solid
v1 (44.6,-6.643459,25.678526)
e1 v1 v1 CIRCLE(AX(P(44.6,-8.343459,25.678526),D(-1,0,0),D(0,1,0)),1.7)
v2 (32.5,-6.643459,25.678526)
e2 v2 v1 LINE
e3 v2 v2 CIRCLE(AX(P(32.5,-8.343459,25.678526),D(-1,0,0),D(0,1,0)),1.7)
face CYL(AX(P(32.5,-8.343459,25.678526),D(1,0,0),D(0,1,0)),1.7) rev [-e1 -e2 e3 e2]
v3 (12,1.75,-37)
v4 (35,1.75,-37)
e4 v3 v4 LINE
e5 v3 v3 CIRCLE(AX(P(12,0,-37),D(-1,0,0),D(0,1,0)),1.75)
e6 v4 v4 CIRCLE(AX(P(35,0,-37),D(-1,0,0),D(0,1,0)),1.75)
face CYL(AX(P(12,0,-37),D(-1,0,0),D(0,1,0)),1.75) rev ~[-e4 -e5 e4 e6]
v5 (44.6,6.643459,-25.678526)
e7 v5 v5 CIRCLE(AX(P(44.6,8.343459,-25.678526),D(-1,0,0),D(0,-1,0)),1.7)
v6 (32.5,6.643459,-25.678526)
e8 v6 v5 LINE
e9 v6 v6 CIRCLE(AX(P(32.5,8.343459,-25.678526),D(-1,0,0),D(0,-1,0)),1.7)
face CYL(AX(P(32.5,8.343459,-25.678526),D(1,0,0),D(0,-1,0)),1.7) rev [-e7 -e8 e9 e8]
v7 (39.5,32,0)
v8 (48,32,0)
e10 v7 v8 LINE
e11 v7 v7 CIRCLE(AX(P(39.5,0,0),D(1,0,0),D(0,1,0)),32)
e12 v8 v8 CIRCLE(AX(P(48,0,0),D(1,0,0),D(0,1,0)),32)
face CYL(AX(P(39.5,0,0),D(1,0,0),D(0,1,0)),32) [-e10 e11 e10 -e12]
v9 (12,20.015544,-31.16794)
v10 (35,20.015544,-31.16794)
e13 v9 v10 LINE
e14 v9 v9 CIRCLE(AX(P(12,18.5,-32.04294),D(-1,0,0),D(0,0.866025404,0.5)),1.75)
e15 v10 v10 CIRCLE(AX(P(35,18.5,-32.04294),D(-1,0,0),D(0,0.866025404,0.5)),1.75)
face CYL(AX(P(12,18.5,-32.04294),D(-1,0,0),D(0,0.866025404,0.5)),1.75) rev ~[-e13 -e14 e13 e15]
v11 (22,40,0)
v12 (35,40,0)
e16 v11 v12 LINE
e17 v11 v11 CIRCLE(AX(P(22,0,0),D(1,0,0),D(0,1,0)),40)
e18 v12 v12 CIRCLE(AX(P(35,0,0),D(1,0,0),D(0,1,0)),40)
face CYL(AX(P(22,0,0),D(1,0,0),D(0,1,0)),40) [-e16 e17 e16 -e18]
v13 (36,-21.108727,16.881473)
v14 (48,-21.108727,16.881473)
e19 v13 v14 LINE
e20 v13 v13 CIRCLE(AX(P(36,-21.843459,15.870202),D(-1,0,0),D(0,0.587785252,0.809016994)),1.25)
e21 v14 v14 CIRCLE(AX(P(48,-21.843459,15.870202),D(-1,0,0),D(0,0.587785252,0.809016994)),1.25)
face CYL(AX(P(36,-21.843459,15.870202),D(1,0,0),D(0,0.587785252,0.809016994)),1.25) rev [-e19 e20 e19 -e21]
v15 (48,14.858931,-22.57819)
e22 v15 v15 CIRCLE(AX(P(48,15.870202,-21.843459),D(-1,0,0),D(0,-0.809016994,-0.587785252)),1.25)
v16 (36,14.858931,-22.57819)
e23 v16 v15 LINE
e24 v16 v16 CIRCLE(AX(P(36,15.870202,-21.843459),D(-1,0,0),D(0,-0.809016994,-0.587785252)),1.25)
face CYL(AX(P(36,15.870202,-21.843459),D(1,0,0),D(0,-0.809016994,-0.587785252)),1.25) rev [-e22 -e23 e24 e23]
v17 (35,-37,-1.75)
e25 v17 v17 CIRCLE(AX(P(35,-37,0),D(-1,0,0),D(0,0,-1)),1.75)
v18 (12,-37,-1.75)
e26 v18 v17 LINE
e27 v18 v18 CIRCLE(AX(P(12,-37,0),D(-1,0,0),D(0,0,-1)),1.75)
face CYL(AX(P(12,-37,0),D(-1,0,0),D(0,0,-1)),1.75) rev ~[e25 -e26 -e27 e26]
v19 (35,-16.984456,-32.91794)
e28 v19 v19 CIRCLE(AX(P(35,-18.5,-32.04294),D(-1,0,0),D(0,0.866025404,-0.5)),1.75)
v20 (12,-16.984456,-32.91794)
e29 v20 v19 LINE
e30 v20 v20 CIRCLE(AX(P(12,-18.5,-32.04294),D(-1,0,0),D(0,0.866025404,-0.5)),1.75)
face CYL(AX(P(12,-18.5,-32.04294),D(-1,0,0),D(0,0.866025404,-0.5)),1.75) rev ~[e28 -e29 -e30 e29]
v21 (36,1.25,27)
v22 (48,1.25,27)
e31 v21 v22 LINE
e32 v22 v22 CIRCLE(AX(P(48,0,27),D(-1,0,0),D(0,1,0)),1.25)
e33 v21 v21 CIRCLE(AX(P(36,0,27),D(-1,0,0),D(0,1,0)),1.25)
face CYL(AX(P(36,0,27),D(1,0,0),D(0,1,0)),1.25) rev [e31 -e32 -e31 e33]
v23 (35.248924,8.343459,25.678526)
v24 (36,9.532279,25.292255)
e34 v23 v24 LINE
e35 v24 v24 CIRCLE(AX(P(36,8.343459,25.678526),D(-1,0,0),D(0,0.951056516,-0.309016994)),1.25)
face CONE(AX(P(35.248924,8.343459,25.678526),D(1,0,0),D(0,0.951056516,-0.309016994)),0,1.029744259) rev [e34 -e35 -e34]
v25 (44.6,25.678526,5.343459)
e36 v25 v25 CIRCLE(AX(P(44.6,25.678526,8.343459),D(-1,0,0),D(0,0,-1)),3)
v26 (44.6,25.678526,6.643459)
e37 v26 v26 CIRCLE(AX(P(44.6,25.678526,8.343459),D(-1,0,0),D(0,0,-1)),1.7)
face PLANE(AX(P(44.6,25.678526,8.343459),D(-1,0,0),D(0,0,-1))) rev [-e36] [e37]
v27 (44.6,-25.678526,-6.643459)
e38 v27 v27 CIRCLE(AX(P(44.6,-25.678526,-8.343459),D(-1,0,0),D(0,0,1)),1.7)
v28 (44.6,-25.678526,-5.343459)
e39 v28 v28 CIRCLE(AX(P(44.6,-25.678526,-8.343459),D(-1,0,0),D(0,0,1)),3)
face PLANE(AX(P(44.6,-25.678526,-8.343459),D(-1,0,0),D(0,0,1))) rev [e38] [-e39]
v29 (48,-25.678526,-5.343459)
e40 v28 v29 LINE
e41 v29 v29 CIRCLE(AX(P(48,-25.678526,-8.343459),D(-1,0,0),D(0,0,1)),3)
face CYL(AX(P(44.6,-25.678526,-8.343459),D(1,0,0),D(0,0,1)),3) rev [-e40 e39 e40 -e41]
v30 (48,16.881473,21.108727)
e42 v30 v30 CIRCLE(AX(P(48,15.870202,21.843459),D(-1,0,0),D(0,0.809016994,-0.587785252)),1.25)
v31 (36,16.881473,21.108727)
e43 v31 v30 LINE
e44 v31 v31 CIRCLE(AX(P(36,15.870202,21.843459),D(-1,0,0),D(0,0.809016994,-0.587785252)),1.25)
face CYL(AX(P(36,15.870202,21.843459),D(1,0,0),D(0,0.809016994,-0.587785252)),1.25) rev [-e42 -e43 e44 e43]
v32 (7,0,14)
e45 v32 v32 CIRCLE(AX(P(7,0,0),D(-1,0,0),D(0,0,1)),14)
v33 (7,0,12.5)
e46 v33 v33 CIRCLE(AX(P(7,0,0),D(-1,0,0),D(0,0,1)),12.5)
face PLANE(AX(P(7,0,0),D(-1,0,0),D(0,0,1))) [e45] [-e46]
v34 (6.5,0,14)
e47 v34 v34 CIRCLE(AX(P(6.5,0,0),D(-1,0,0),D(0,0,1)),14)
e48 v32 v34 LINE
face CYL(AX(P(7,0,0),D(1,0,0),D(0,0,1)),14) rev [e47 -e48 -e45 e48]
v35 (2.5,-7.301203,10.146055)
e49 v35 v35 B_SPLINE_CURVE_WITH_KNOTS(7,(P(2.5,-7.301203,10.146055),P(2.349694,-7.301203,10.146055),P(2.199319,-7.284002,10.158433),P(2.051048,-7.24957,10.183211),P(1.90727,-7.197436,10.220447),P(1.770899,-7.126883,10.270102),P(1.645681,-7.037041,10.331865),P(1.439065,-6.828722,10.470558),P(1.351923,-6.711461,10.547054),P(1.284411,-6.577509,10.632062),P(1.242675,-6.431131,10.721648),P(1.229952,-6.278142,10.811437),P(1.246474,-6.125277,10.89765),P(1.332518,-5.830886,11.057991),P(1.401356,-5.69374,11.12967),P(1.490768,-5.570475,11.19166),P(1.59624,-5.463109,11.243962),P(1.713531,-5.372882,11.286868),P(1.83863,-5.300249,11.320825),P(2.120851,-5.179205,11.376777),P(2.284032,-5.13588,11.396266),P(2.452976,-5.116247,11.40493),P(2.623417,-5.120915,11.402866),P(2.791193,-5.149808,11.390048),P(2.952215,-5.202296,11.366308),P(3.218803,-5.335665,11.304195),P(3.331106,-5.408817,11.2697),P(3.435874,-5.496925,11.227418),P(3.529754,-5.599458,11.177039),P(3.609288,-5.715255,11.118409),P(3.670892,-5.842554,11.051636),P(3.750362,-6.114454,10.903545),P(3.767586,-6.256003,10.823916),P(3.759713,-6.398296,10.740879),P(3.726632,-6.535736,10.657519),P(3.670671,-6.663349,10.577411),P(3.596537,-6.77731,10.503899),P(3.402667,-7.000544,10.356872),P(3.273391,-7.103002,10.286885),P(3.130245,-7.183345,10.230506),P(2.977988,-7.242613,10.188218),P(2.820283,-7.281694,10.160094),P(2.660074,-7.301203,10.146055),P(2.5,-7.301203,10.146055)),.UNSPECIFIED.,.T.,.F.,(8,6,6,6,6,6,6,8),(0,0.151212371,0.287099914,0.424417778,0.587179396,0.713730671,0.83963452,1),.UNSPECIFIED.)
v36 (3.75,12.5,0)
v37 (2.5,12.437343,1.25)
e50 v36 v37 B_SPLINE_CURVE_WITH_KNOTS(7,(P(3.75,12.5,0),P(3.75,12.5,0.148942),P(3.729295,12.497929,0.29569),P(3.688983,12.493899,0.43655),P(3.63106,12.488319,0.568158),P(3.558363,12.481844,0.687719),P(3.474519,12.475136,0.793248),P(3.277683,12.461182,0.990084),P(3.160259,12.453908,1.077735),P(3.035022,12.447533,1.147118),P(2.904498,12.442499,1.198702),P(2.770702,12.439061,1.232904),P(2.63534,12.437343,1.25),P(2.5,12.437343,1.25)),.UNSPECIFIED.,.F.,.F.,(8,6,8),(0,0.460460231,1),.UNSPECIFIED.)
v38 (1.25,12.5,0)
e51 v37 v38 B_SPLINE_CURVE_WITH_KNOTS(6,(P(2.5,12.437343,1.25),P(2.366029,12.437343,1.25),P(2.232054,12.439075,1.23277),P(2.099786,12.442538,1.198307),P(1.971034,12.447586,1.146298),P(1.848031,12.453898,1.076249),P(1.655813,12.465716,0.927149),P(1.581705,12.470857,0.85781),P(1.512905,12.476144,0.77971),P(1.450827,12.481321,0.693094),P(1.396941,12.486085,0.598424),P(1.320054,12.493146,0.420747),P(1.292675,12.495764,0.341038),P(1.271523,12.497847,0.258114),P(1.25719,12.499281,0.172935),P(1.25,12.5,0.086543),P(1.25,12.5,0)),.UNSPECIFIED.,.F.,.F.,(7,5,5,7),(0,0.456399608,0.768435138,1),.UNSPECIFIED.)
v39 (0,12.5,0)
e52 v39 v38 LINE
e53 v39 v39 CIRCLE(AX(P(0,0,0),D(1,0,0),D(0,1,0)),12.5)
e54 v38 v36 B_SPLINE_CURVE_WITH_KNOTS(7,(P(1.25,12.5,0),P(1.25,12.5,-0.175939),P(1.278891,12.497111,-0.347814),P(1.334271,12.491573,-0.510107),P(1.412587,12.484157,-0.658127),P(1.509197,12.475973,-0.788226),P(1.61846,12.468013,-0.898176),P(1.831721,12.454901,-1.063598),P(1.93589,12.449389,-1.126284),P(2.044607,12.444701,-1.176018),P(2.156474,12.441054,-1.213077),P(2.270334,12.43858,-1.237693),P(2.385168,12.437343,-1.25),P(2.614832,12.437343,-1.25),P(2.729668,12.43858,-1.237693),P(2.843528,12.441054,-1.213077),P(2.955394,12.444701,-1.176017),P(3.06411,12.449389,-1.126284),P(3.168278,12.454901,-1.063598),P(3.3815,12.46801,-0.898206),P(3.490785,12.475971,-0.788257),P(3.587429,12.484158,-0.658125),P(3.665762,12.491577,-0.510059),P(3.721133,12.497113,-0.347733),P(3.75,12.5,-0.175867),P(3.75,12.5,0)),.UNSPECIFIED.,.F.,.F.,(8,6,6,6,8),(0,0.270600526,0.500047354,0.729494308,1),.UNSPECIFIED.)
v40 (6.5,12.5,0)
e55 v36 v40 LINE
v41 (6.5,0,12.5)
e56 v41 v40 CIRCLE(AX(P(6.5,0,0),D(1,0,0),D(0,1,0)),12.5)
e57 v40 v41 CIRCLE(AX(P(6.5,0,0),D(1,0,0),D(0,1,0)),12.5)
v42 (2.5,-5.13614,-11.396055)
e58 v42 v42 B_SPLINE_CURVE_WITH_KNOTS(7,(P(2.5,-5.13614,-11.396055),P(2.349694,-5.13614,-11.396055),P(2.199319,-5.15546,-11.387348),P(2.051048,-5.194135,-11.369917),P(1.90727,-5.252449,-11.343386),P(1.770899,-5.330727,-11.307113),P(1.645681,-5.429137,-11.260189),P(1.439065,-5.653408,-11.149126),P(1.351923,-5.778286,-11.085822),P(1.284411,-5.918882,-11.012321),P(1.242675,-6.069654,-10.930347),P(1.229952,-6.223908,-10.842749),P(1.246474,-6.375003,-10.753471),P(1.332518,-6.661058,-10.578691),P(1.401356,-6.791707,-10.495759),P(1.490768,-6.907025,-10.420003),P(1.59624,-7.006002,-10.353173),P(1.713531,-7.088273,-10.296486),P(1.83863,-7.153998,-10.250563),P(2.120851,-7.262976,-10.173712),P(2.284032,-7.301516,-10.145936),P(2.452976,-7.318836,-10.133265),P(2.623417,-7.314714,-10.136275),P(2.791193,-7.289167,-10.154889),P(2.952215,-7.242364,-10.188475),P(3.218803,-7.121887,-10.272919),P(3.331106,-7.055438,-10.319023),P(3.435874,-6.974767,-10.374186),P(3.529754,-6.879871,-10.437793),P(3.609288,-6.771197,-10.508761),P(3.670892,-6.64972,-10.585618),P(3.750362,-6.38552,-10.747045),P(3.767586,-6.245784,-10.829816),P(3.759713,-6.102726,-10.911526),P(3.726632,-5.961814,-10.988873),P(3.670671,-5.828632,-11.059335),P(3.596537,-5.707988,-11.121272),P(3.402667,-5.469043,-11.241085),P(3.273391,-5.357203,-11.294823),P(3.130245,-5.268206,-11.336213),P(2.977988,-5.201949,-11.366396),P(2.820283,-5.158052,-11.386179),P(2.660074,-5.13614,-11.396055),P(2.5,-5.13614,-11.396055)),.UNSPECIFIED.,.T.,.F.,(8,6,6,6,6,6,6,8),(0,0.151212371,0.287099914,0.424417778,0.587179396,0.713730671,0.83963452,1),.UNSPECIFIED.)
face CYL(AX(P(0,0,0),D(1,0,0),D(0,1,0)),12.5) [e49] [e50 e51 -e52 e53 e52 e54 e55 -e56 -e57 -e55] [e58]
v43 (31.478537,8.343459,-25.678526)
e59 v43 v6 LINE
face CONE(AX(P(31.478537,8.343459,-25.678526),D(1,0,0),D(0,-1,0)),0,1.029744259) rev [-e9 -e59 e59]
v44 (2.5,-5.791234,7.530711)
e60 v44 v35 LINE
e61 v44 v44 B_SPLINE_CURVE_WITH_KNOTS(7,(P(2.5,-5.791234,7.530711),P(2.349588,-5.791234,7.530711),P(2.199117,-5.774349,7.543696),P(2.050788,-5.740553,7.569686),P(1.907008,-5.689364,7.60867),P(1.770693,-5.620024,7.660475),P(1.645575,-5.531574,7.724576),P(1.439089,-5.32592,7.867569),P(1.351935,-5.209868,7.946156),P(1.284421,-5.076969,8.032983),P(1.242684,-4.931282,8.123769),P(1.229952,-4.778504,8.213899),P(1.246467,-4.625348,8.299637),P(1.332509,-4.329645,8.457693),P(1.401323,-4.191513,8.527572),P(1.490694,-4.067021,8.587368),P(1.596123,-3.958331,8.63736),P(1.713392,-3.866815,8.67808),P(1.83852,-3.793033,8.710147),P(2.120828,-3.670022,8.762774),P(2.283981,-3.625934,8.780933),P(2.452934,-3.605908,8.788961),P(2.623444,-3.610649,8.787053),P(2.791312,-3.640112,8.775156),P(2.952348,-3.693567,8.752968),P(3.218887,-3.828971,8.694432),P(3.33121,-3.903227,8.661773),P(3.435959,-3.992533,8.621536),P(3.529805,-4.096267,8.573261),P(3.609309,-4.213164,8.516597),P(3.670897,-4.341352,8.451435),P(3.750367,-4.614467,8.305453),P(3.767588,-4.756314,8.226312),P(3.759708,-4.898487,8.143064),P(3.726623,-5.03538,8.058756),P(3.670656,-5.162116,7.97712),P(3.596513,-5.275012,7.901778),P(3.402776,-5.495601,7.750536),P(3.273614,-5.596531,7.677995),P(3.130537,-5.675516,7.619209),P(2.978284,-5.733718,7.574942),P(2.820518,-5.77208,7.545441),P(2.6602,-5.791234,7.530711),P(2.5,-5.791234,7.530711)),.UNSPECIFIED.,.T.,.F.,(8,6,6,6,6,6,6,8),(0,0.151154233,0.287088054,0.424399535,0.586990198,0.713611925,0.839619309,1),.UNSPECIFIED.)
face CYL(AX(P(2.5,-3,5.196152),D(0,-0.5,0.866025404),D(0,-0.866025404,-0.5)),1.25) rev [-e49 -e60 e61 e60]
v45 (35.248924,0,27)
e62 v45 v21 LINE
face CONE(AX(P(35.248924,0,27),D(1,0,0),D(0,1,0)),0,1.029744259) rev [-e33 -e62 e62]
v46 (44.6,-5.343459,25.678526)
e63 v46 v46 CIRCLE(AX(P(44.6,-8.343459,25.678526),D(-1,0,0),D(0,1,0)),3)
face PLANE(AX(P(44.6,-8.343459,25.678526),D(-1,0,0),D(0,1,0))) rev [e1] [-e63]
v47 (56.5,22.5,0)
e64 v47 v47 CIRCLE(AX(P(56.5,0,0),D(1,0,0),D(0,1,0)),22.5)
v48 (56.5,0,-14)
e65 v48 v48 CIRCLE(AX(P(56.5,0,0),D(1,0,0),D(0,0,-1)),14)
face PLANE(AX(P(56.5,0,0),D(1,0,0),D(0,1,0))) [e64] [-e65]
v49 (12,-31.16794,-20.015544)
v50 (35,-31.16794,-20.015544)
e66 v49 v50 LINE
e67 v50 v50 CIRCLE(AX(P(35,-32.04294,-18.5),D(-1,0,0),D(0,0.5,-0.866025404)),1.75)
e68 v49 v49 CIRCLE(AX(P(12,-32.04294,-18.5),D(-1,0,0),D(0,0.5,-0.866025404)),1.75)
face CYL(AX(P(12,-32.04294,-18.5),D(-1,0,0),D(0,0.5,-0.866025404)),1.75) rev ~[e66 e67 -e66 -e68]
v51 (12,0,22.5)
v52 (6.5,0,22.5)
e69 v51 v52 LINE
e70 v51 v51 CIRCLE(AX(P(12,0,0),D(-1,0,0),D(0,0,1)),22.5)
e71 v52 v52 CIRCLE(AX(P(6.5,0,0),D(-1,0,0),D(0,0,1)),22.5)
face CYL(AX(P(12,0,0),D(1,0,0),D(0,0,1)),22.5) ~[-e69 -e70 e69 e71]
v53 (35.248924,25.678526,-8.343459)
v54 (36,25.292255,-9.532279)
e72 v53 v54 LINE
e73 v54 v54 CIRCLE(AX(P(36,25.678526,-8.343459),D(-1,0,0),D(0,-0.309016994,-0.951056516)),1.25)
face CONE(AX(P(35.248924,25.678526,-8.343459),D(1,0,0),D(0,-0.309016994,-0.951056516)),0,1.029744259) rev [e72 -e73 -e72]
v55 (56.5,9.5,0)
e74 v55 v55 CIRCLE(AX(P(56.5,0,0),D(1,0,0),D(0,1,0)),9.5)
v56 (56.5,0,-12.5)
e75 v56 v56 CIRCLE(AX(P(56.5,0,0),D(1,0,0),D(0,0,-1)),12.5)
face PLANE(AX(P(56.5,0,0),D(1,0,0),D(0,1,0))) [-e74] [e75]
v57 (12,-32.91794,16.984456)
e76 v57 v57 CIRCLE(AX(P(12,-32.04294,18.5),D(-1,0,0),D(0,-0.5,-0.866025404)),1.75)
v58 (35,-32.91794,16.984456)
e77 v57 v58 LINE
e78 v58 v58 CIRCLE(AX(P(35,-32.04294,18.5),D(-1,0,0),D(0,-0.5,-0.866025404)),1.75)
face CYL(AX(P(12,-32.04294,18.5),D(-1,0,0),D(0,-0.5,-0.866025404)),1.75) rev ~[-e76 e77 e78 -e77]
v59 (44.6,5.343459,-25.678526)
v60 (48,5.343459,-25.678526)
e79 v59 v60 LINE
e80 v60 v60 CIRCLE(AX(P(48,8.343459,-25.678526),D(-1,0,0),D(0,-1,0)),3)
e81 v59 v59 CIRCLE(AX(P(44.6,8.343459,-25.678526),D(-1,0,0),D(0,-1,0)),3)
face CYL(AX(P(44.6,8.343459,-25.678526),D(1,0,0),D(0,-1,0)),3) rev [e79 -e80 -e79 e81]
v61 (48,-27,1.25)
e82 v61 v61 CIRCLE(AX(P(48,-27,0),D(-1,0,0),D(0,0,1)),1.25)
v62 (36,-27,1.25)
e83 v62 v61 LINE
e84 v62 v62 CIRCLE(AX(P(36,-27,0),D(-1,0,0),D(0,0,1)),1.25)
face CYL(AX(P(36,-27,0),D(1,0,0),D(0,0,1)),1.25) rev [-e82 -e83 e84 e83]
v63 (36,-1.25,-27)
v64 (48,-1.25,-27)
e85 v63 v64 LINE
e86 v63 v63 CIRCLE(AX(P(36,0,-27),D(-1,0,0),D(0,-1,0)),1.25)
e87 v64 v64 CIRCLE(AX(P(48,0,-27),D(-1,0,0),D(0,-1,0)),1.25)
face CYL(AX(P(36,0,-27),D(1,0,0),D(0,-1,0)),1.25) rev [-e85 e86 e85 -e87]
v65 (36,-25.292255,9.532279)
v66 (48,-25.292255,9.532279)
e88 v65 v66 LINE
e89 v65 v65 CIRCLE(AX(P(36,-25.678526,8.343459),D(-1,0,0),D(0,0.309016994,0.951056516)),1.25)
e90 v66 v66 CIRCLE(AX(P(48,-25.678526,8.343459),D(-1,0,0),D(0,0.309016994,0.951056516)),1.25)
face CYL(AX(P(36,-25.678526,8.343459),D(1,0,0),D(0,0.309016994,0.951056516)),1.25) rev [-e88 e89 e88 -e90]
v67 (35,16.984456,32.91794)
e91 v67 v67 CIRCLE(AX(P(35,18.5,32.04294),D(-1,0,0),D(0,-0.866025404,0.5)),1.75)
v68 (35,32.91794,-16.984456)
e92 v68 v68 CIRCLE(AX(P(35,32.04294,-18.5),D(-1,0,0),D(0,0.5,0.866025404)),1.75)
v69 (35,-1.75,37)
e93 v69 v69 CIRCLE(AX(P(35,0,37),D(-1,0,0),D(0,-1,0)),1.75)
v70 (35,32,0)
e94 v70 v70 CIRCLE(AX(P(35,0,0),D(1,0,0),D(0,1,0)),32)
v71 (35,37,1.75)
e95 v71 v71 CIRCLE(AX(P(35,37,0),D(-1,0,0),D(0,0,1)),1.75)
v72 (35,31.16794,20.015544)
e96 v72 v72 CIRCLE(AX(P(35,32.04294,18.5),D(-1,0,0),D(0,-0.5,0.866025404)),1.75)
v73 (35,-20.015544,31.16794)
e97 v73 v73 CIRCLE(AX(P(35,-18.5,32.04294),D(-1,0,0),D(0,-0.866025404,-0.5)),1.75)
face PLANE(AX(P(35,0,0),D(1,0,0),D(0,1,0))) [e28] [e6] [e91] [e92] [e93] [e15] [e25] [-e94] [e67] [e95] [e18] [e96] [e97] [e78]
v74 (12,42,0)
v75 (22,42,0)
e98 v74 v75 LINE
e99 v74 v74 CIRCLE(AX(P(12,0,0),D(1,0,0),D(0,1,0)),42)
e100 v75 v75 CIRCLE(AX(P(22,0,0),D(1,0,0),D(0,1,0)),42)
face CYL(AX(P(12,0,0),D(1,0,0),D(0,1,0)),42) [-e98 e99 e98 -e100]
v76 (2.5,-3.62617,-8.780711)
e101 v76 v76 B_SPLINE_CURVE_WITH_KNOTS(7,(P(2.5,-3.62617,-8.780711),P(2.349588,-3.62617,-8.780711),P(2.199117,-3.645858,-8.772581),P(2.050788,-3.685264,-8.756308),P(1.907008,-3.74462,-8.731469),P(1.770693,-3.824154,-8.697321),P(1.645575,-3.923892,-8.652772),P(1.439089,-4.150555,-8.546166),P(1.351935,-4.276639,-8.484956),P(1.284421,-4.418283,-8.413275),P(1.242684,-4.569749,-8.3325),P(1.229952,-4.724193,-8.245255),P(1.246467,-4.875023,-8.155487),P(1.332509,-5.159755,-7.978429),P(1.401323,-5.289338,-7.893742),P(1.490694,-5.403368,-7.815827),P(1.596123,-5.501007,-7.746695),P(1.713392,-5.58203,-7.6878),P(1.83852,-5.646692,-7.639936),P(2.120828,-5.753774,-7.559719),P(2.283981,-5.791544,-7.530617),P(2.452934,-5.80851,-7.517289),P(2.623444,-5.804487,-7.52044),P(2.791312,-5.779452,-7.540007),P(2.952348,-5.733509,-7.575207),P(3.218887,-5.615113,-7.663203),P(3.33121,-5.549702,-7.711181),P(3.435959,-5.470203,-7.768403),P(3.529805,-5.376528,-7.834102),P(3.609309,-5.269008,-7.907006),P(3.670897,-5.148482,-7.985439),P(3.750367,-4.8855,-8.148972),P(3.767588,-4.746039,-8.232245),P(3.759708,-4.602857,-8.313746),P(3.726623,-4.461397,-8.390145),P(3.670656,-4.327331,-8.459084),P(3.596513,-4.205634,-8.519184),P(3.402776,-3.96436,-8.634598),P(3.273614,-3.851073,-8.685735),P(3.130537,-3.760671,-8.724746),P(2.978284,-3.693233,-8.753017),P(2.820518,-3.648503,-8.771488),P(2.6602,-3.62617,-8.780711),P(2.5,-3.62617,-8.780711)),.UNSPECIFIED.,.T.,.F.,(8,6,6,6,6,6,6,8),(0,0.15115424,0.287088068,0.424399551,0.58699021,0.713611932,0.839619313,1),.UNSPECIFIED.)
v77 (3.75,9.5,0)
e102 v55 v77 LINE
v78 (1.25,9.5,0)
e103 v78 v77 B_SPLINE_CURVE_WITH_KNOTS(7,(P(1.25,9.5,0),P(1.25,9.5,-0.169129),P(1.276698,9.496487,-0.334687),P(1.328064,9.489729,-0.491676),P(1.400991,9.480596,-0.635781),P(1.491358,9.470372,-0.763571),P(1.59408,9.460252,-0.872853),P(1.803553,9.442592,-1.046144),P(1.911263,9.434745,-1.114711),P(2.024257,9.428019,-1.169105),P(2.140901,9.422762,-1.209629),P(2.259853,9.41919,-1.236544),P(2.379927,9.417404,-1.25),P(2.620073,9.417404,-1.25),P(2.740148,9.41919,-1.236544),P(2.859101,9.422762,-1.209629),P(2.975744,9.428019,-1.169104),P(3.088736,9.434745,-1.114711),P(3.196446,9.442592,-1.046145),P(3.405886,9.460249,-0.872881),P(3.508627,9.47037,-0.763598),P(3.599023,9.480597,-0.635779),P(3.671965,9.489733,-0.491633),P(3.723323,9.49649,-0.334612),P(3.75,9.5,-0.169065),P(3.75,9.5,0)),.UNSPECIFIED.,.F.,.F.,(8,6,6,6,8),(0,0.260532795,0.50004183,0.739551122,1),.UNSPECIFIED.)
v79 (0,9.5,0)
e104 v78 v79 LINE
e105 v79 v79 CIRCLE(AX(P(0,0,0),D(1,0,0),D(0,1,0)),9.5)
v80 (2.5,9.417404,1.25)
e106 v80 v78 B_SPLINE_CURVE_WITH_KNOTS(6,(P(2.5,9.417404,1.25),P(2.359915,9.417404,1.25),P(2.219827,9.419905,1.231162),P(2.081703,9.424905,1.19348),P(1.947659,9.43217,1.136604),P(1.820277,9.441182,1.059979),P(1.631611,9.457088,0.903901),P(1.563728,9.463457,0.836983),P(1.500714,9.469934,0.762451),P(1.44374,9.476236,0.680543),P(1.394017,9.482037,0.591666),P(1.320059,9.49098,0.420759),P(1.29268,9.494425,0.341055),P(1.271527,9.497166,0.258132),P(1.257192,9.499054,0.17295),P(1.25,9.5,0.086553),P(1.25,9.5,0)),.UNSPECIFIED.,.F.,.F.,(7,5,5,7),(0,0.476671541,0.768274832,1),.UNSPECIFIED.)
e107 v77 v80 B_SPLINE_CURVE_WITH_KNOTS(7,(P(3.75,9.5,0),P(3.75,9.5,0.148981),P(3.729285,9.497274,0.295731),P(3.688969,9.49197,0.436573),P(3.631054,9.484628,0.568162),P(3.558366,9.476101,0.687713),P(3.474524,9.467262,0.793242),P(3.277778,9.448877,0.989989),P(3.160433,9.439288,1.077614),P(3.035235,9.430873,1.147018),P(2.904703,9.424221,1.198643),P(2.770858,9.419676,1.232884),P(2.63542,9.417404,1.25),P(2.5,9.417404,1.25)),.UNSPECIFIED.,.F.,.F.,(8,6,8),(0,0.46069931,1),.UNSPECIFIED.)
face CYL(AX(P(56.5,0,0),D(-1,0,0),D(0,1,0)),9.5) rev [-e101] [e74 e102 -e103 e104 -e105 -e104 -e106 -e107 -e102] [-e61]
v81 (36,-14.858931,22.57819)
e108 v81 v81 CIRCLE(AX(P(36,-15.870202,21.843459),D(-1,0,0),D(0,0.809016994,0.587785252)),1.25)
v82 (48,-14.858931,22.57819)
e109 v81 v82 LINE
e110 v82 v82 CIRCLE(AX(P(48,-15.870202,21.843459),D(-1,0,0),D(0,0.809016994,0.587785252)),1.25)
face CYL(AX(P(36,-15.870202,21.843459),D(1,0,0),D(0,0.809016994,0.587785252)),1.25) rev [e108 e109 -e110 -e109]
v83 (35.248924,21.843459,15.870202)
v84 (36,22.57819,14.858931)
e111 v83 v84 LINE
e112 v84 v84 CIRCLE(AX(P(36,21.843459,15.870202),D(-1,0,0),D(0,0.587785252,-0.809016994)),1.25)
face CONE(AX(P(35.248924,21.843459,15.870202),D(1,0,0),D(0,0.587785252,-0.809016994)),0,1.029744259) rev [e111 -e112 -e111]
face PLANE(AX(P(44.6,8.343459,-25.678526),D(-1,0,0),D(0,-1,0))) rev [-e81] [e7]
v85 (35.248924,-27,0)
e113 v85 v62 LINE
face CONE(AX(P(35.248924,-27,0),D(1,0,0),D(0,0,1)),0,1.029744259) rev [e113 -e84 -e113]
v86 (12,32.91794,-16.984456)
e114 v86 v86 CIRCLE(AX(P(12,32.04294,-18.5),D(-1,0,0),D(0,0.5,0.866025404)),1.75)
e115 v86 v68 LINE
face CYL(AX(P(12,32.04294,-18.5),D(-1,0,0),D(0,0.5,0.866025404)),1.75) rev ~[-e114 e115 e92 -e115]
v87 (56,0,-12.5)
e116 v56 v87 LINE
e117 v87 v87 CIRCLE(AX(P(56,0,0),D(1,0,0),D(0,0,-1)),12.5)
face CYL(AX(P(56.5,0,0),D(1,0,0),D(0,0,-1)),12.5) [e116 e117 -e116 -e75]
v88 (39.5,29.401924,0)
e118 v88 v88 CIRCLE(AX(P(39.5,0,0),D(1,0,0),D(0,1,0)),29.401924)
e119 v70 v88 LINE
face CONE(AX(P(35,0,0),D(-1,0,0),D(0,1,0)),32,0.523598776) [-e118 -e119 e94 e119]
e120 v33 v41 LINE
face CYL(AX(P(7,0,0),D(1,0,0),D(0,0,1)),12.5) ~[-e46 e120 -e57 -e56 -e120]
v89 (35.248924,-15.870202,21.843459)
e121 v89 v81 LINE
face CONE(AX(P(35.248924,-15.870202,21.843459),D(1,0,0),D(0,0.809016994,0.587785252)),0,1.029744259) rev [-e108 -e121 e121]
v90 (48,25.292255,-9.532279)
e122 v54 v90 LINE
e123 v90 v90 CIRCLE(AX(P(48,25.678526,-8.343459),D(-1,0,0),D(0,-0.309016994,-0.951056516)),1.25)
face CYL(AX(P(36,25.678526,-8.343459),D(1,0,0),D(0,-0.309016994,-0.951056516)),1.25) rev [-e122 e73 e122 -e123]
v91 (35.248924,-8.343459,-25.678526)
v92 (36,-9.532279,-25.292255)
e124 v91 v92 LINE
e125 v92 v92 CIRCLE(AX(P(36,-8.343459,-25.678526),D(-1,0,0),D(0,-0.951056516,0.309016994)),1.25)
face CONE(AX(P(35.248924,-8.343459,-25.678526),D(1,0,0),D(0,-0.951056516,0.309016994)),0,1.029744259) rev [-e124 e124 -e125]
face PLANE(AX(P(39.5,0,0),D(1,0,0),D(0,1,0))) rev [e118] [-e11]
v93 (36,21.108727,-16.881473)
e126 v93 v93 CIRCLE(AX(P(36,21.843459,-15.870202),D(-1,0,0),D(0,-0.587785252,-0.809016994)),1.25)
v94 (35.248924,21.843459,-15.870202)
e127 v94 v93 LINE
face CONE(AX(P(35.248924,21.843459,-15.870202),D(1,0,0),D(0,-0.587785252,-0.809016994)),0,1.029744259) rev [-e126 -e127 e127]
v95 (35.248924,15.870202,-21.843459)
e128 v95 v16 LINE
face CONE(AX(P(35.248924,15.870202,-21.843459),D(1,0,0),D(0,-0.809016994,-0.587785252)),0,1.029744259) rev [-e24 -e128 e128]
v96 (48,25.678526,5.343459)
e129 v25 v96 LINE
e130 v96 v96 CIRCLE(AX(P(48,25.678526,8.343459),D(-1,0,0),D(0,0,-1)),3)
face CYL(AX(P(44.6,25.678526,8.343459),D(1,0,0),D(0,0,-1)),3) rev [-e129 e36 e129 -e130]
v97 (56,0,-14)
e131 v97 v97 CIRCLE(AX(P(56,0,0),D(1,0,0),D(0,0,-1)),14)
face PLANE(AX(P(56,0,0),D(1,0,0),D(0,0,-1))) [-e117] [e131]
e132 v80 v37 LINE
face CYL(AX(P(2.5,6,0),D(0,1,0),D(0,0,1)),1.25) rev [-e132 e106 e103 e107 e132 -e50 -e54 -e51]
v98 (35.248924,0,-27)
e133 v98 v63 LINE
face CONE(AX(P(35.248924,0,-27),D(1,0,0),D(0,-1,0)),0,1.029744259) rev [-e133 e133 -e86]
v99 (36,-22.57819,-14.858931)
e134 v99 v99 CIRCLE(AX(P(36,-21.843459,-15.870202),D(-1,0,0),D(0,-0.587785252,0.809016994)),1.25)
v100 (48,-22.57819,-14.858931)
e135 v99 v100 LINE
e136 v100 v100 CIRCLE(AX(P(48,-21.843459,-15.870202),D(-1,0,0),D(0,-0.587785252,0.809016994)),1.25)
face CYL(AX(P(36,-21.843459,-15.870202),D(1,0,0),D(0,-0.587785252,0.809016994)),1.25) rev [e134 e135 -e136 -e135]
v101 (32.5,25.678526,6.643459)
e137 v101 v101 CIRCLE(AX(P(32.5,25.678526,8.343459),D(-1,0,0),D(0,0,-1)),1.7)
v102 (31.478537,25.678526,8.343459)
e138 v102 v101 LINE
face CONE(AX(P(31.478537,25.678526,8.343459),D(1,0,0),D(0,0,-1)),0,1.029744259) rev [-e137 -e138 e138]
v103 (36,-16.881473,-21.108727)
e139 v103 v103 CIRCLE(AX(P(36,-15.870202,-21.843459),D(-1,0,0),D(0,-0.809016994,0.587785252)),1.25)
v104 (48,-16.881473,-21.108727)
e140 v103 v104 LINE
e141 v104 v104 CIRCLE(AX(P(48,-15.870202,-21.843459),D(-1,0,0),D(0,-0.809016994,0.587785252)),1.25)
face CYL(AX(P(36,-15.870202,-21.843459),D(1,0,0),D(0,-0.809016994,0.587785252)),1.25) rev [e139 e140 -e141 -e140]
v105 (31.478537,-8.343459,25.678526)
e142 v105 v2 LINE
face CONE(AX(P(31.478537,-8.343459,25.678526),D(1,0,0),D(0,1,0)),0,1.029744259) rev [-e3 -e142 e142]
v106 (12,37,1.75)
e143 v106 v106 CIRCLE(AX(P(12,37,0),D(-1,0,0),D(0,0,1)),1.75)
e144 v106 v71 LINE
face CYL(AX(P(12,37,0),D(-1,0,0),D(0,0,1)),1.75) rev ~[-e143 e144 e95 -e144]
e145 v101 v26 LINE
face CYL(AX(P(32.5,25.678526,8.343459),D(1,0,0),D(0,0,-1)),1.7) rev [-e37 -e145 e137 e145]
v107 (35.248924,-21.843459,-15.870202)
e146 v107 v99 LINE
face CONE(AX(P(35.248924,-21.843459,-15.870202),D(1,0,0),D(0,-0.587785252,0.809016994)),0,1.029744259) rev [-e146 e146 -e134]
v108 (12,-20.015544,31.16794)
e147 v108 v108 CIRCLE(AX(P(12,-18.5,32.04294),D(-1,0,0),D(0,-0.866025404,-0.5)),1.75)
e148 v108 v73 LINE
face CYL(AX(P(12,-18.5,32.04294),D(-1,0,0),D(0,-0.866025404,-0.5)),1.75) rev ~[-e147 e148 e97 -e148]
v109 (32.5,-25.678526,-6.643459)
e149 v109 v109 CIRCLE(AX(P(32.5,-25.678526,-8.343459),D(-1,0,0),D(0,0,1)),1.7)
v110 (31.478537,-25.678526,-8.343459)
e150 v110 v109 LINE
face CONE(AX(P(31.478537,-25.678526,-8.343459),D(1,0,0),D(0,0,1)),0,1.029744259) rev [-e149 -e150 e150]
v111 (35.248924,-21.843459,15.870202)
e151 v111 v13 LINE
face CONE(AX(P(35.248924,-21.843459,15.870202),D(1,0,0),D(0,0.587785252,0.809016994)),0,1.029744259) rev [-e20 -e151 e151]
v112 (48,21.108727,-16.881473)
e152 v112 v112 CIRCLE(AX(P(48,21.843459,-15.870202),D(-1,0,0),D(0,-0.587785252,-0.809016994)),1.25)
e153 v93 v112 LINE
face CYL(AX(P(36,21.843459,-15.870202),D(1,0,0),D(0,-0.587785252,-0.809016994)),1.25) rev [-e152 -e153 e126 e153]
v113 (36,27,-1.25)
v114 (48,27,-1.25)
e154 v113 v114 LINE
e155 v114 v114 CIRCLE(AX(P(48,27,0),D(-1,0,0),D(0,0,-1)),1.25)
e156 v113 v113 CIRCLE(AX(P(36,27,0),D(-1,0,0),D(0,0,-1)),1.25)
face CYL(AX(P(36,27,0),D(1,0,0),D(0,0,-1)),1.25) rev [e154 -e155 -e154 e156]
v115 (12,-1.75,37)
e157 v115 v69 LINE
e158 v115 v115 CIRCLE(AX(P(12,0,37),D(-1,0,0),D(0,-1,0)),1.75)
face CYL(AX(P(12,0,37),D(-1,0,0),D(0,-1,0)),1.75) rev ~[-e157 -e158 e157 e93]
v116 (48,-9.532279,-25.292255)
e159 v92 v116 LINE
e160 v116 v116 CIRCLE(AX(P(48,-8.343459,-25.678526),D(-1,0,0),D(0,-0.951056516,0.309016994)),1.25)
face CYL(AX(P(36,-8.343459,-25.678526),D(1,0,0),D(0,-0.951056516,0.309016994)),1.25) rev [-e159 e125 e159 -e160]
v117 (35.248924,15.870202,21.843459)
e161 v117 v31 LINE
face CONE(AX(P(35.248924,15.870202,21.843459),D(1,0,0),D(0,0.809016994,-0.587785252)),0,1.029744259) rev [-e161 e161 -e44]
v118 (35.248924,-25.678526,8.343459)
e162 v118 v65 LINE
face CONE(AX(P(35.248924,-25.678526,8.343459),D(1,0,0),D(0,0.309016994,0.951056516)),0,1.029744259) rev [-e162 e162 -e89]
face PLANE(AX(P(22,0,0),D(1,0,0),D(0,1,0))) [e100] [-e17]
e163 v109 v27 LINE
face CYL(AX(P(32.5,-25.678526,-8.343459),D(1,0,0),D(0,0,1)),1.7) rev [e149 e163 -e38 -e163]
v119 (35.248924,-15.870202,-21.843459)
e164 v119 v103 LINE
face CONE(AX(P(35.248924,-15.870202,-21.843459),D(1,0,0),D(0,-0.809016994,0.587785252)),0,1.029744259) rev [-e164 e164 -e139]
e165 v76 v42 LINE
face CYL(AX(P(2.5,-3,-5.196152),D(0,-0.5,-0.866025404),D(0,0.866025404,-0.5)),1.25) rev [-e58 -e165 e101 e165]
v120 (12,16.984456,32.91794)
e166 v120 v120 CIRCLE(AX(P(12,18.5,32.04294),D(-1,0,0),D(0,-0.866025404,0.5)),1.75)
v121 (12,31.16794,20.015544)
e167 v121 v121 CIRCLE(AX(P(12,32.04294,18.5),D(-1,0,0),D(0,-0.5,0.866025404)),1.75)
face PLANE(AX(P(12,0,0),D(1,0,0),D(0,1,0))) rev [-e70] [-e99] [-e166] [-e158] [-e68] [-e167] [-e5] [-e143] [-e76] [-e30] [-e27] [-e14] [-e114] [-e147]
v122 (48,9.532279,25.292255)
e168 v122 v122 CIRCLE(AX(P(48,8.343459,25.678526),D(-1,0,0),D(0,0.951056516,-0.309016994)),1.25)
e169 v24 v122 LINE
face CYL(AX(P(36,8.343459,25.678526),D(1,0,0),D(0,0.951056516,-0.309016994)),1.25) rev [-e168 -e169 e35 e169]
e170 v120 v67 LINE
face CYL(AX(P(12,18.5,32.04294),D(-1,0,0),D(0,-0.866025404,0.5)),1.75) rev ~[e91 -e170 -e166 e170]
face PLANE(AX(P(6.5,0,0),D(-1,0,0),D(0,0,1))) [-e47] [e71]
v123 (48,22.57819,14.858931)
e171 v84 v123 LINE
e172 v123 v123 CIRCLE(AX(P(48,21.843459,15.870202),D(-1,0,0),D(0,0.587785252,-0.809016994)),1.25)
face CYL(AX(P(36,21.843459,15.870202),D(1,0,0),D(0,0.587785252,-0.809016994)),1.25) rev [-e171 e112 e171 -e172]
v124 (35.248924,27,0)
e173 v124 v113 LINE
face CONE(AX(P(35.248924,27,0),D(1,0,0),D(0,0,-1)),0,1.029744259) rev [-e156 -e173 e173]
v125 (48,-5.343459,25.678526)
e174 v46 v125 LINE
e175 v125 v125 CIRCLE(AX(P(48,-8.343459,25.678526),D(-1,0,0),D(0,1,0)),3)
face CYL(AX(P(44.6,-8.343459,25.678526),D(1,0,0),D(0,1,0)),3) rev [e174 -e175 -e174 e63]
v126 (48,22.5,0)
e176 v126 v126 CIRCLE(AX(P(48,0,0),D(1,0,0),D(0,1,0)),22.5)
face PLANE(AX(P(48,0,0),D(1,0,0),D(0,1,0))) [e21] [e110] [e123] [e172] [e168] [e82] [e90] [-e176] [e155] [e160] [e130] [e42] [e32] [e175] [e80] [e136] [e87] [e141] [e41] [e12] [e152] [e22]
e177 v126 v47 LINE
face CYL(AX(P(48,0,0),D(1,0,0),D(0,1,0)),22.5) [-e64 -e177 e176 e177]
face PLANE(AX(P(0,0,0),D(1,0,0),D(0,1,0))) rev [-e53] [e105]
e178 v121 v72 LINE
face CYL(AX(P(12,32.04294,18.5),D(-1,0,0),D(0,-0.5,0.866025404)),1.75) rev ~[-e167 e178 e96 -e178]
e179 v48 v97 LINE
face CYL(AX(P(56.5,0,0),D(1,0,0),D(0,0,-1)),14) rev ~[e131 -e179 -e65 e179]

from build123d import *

# Parameters (mm, degrees)
CUT_EXTRUDE_1_REACH      = 76.218
SKETCH_5_R               = 1.75
PATTERN_CIRCULAR_2_COUNT = 12
SKETCH_9_R               = 22.5
SKETCH_9_R_2             = 10
EXTRUDE_1_DEPTH          = 5.5
PATTERN_CIRCULAR_4_COUNT = 3
SKETCH_12_R              = 14
SKETCH_12_R_2            = 12.5
CUT_EXTRUDE_4_DEPTH      = 0.5
CUT_EXTRUDE_START        = -0.5
SKETCH_14_R              = 14
SKETCH_14_R_2            = 12.5
CUT_EXTRUDE_5_DEPTH      = 0.5
PATTERN_CIRCULAR_5_COUNT = 4
PATTERN_CIRCULAR_5_ANGLE = 54
PATTERN_CIRCULAR_7_COUNT = 4


with BuildPart() as part:
    # 草图1 → 旋转1 (revolve)
    with BuildSketch(Plane.XY):
        Polygon((0, 9.5), (0, 12.5), (12, 12.5), (12, 42), (22, 42), (22, 40), (35, 40), (35, 32), (39.5, 29.401923789), (39.5, 32), (48, 32), (48, 22.5), (56.5, 22.5), (56.5, 9.5), align=None)
    revolve(axis=Axis((-65.200779727, 0, 0), (1, 0, 0)))

    # 草图5 → 切除-拉伸1 (cut, up to next)
    with BuildSketch(Plane.ZY.offset(-12), mode=Mode.PRIVATE) as cut_extrude_1_sk1:
        with Locations((0, 37)):
            Circle(SKETCH_5_R)
    cut_extrude_1_tool1 = extrude(cut_extrude_1_sk1.sketch, amount=-CUT_EXTRUDE_1_REACH, mode=Mode.PRIVATE) & part.part
    cut_extrude_1 = cut_extrude_1_tool1.solids().sort_by_distance((12, 37, 0))[0]
    add(cut_extrude_1, mode=Mode.SUBTRACT)

    # 阵列(圆周)2: 切除-拉伸1 ×12 about axis
    pattern_circular_2_axis = Axis((56.5, 0, 0), (-1, 0, 0))
    for i in range(1, PATTERN_CIRCULAR_2_COUNT):
        add(cut_extrude_1.rotate(pattern_circular_2_axis, i * 360 / PATTERN_CIRCULAR_2_COUNT), mode=Mode.SUBTRACT)

    # 草图9 → 凸台-拉伸1 (add)
    with BuildSketch(Plane.ZY.offset(-12)):
        Circle(SKETCH_9_R)
        Circle(SKETCH_9_R_2, mode=Mode.SUBTRACT)
    extrude(amount=EXTRUDE_1_DEPTH)

    # 草图10 → M3 螺纹孔3 (revolve, cut)
    with BuildSketch(Plane(origin=(2.5, 12.5, 0), x_dir=(0, 0, 1), z_dir=(1, 0, 0))):
        Polygon((0, 0), (0, 7.251075774), (1.25, 6.5), (1.25, 0), align=None)
    hole_wizard_m3_3 = revolve(axis=Axis((2.5, 18.85, 0), (0, -1, 0)), mode=Mode.SUBTRACT)

    # 阵列(圆周)4: M3 螺纹孔3 ×3 about axis
    pattern_circular_4_axis = Axis((56.5, 0, 0), (-1, 0, 0))
    for i in range(1, PATTERN_CIRCULAR_4_COUNT):
        add(hole_wizard_m3_3.rotate(pattern_circular_4_axis, i * 360 / PATTERN_CIRCULAR_4_COUNT), mode=Mode.SUBTRACT)

    # 草图12 → 切除-拉伸4 (cut)
    with BuildSketch(Plane(origin=(56.5, 0, 0), x_dir=(0, 0, -1), z_dir=(1, 0, 0))):
        Circle(SKETCH_12_R)
        Circle(SKETCH_12_R_2, mode=Mode.SUBTRACT)
    extrude(amount=-CUT_EXTRUDE_4_DEPTH, mode=Mode.SUBTRACT)

    # 草图14 → 切除-拉伸5 (cut)
    with BuildSketch(Plane.ZY.offset(-6.5).offset(CUT_EXTRUDE_START)):
        Circle(SKETCH_14_R)
        Circle(SKETCH_14_R_2, mode=Mode.SUBTRACT)
    extrude(amount=CUT_EXTRUDE_5_DEPTH, mode=Mode.SUBTRACT)

    # 草图15 → M3 螺纹孔4 (revolve, cut)
    with BuildSketch(Plane(origin=(48, 27, 0), x_dir=(0, 0, -1), z_dir=(0, 1, 0))):
        Polygon((0, 0), (0, 12.751075774), (1.25, 12), (1.25, 0), align=None)
    hole_wizard_m3_4 = revolve(axis=Axis((54.35, 27, 0), (-1, 0, 0)), mode=Mode.SUBTRACT)

    # 阵列(圆周)5: M3 螺纹孔4 ×4 about axis
    pattern_circular_5_axis = Axis((56.5, 0, 0), (-1, 0, 0))
    for i in range(1, PATTERN_CIRCULAR_5_COUNT):
        add(hole_wizard_m3_4.rotate(pattern_circular_5_axis, i * PATTERN_CIRCULAR_5_ANGLE / (PATTERN_CIRCULAR_5_COUNT - 1)), mode=Mode.SUBTRACT)

    # 阵列(圆周)6 copy 1 sketch → 阵列(圆周)6 copy 1 (revolve, cut)
    with BuildSketch(Plane(origin=(48, -8.343458848, -25.67852594), x_dir=(0, -0.9510565162951534, 0.309016994374948), z_dir=(0, -0.309016994374948, -0.9510565162951534))):
        Polygon((0, 0), (0, 12.751075774), (1.25, 12), (1.25, 0), align=None)
    revolve(axis=Axis((54.35, -8.343458848, -25.67852594), (-1, 0, 0)), mode=Mode.SUBTRACT)

    # 阵列(圆周)6 copy 2 sketch → 阵列(圆周)6 copy 2 (revolve, cut)
    with BuildSketch(Plane(origin=(48, -25.67852594, 8.343458848), x_dir=(0, 0.30901699437494795, 0.9510565162951534), z_dir=(0, -0.9510565162951534, 0.30901699437494795))):
        Polygon((0, 0), (0, 12.751075774), (1.25, 12), (1.25, 0), align=None)
    revolve(axis=Axis((54.35, -25.67852594, 8.343458848), (-1, 0, 0)), mode=Mode.SUBTRACT)

    # 阵列(圆周)6 copy 3 sketch → 阵列(圆周)6 copy 3 (revolve, cut)
    with BuildSketch(Plane(origin=(48, 8.343458848, 25.67852594), x_dir=(0, 0.9510565162951535, -0.3090169943749479), z_dir=(0, 0.3090169943749479, 0.9510565162951535))):
        Polygon((0, 0), (0, 12.751075774), (1.25, 12), (1.25, 0), align=None)
    revolve(axis=Axis((54.35, 8.343458848, 25.67852594), (-1, 0, 0)), mode=Mode.SUBTRACT)

    # 阵列(圆周)6 copy 4 sketch → 阵列(圆周)6 copy 4 (revolve, cut)
    with BuildSketch(Plane(origin=(48, -15.870201812, -21.843458848), x_dir=(0, -0.8090169943749467, 0.5877852522924741), z_dir=(0, -0.5877852522924741, -0.8090169943749467))):
        Polygon((0, 0), (0, 12.751075774), (1.25, 12), (1.25, 0), align=None)
    revolve(axis=Axis((54.35, -15.870201812, -21.843458848), (-1, 0, 0)), mode=Mode.SUBTRACT)

    # 阵列(圆周)6 copy 5 sketch → 阵列(圆周)6 copy 5 (revolve, cut)
    with BuildSketch(Plane(origin=(48, -21.843458848, 15.870201812), x_dir=(0, 0.587785252292474, 0.8090169943749468), z_dir=(0, -0.8090169943749468, 0.587785252292474))):
        Polygon((0, 0), (0, 12.751075774), (1.25, 12), (1.25, 0), align=None)
    revolve(axis=Axis((54.35, -21.843458848, 15.870201812), (-1, 0, 0)), mode=Mode.SUBTRACT)

    # 阵列(圆周)6 copy 6 sketch → 阵列(圆周)6 copy 6 (revolve, cut)
    with BuildSketch(Plane(origin=(48, 15.870201812, 21.843458848), x_dir=(0, 0.8090169943749468, -0.587785252292474), z_dir=(0, 0.587785252292474, 0.8090169943749468))):
        Polygon((0, 0), (0, 12.751075774), (1.25, 12), (1.25, 0), align=None)
    revolve(axis=Axis((54.35, 15.870201812, 21.843458848), (-1, 0, 0)), mode=Mode.SUBTRACT)

    # 阵列(圆周)6 copy 7 sketch → 阵列(圆周)6 copy 7 (revolve, cut)
    with BuildSketch(Plane(origin=(48, -21.843458848, -15.870201812), x_dir=(0, -0.5877852522924716, 0.8090169943749486), z_dir=(0, -0.8090169943749486, -0.5877852522924716))):
        Polygon((0, 0), (0, 12.751075774), (1.25, 12), (1.25, 0), align=None)
    revolve(axis=Axis((54.35, -21.843458848, -15.870201812), (-1, 0, 0)), mode=Mode.SUBTRACT)

    # 阵列(圆周)6 copy 8 sketch → 阵列(圆周)6 copy 8 (revolve, cut)
    with BuildSketch(Plane(origin=(48, -15.870201812, 21.843458848), x_dir=(0, 0.8090169943749485, 0.5877852522924717), z_dir=(0, -0.5877852522924717, 0.8090169943749485))):
        Polygon((0, 0), (0, 12.751075774), (1.25, 12), (1.25, 0), align=None)
    revolve(axis=Axis((54.35, -15.870201812, 21.843458848), (-1, 0, 0)), mode=Mode.SUBTRACT)

    # 阵列(圆周)6 copy 9 sketch → 阵列(圆周)6 copy 9 (revolve, cut)
    with BuildSketch(Plane(origin=(48, 21.843458848, 15.870201812), x_dir=(0, 0.5877852522924717, -0.8090169943749485), z_dir=(0, 0.8090169943749485, 0.5877852522924717))):
        Polygon((0, 0), (0, 12.751075774), (1.25, 12), (1.25, 0), align=None)
    revolve(axis=Axis((54.35, 21.843458848, 15.870201812), (-1, 0, 0)), mode=Mode.SUBTRACT)

    # 阵列(圆周)6 copy 10 sketch → 阵列(圆周)6 copy 10 (revolve, cut)
    with BuildSketch(Plane(origin=(48, 0, -27), x_dir=(0, -1, 0), z_dir=(0, 0, -1))):
        Polygon((0, 0), (0, 12.751075774), (1.25, 12), (1.25, 0), align=None)
    revolve(axis=Axis((54.35, 0, -27), (-1, 0, 0)), mode=Mode.SUBTRACT)

    # 阵列(圆周)6 copy 11 sketch → 阵列(圆周)6 copy 11 (revolve, cut)
    with BuildSketch(Plane(origin=(48, -27, 0), x_dir=(0, 0, 1), z_dir=(0, -1, 0))):
        Polygon((0, 0), (0, 12.751075774), (1.25, 12), (1.25, 0), align=None)
    revolve(axis=Axis((54.35, -27, 0), (-1, 0, 0)), mode=Mode.SUBTRACT)

    # 阵列(圆周)6 copy 12 sketch → 阵列(圆周)6 copy 12 (revolve, cut)
    with BuildSketch(Plane(origin=(48, 0, 27), x_dir=(0, 1, 0), z_dir=(0, 0, 1))):
        Polygon((0, 0), (0, 12.751075774), (1.25, 12), (1.25, 0), align=None)
    revolve(axis=Axis((54.35, 0, 27), (-1, 0, 0)), mode=Mode.SUBTRACT)

    # 草图17 → 打孔尺寸(%根据)内六角圆柱头螺钉的类型1 (revolve, cut)
    with BuildSketch(Plane(origin=(48, 25.67852594, 8.343458848), x_dir=(0, 0, -1), z_dir=(0, 1, 0))):
        Polygon((0, 0), (0, 16.521463052), (1.7, 15.5), (1.7, 3.4), (3, 3.4), (3, 0), align=None)
    hole_wizard_1 = revolve(axis=Axis((54.35, 25.67852594, 8.343458848), (-1, 0, 0)), mode=Mode.SUBTRACT)

    # 阵列(圆周)7: 打孔尺寸(%根据)内六角圆柱头螺钉的类型1 ×4 about axis
    pattern_circular_7_axis = Axis((56.5, 0, 0), (-1, 0, 0))
    for i in range(1, PATTERN_CIRCULAR_7_COUNT):
        add(hole_wizard_1.rotate(pattern_circular_7_axis, i * 360 / PATTERN_CIRCULAR_7_COUNT), mode=Mode.SUBTRACT)


solid = part.part
